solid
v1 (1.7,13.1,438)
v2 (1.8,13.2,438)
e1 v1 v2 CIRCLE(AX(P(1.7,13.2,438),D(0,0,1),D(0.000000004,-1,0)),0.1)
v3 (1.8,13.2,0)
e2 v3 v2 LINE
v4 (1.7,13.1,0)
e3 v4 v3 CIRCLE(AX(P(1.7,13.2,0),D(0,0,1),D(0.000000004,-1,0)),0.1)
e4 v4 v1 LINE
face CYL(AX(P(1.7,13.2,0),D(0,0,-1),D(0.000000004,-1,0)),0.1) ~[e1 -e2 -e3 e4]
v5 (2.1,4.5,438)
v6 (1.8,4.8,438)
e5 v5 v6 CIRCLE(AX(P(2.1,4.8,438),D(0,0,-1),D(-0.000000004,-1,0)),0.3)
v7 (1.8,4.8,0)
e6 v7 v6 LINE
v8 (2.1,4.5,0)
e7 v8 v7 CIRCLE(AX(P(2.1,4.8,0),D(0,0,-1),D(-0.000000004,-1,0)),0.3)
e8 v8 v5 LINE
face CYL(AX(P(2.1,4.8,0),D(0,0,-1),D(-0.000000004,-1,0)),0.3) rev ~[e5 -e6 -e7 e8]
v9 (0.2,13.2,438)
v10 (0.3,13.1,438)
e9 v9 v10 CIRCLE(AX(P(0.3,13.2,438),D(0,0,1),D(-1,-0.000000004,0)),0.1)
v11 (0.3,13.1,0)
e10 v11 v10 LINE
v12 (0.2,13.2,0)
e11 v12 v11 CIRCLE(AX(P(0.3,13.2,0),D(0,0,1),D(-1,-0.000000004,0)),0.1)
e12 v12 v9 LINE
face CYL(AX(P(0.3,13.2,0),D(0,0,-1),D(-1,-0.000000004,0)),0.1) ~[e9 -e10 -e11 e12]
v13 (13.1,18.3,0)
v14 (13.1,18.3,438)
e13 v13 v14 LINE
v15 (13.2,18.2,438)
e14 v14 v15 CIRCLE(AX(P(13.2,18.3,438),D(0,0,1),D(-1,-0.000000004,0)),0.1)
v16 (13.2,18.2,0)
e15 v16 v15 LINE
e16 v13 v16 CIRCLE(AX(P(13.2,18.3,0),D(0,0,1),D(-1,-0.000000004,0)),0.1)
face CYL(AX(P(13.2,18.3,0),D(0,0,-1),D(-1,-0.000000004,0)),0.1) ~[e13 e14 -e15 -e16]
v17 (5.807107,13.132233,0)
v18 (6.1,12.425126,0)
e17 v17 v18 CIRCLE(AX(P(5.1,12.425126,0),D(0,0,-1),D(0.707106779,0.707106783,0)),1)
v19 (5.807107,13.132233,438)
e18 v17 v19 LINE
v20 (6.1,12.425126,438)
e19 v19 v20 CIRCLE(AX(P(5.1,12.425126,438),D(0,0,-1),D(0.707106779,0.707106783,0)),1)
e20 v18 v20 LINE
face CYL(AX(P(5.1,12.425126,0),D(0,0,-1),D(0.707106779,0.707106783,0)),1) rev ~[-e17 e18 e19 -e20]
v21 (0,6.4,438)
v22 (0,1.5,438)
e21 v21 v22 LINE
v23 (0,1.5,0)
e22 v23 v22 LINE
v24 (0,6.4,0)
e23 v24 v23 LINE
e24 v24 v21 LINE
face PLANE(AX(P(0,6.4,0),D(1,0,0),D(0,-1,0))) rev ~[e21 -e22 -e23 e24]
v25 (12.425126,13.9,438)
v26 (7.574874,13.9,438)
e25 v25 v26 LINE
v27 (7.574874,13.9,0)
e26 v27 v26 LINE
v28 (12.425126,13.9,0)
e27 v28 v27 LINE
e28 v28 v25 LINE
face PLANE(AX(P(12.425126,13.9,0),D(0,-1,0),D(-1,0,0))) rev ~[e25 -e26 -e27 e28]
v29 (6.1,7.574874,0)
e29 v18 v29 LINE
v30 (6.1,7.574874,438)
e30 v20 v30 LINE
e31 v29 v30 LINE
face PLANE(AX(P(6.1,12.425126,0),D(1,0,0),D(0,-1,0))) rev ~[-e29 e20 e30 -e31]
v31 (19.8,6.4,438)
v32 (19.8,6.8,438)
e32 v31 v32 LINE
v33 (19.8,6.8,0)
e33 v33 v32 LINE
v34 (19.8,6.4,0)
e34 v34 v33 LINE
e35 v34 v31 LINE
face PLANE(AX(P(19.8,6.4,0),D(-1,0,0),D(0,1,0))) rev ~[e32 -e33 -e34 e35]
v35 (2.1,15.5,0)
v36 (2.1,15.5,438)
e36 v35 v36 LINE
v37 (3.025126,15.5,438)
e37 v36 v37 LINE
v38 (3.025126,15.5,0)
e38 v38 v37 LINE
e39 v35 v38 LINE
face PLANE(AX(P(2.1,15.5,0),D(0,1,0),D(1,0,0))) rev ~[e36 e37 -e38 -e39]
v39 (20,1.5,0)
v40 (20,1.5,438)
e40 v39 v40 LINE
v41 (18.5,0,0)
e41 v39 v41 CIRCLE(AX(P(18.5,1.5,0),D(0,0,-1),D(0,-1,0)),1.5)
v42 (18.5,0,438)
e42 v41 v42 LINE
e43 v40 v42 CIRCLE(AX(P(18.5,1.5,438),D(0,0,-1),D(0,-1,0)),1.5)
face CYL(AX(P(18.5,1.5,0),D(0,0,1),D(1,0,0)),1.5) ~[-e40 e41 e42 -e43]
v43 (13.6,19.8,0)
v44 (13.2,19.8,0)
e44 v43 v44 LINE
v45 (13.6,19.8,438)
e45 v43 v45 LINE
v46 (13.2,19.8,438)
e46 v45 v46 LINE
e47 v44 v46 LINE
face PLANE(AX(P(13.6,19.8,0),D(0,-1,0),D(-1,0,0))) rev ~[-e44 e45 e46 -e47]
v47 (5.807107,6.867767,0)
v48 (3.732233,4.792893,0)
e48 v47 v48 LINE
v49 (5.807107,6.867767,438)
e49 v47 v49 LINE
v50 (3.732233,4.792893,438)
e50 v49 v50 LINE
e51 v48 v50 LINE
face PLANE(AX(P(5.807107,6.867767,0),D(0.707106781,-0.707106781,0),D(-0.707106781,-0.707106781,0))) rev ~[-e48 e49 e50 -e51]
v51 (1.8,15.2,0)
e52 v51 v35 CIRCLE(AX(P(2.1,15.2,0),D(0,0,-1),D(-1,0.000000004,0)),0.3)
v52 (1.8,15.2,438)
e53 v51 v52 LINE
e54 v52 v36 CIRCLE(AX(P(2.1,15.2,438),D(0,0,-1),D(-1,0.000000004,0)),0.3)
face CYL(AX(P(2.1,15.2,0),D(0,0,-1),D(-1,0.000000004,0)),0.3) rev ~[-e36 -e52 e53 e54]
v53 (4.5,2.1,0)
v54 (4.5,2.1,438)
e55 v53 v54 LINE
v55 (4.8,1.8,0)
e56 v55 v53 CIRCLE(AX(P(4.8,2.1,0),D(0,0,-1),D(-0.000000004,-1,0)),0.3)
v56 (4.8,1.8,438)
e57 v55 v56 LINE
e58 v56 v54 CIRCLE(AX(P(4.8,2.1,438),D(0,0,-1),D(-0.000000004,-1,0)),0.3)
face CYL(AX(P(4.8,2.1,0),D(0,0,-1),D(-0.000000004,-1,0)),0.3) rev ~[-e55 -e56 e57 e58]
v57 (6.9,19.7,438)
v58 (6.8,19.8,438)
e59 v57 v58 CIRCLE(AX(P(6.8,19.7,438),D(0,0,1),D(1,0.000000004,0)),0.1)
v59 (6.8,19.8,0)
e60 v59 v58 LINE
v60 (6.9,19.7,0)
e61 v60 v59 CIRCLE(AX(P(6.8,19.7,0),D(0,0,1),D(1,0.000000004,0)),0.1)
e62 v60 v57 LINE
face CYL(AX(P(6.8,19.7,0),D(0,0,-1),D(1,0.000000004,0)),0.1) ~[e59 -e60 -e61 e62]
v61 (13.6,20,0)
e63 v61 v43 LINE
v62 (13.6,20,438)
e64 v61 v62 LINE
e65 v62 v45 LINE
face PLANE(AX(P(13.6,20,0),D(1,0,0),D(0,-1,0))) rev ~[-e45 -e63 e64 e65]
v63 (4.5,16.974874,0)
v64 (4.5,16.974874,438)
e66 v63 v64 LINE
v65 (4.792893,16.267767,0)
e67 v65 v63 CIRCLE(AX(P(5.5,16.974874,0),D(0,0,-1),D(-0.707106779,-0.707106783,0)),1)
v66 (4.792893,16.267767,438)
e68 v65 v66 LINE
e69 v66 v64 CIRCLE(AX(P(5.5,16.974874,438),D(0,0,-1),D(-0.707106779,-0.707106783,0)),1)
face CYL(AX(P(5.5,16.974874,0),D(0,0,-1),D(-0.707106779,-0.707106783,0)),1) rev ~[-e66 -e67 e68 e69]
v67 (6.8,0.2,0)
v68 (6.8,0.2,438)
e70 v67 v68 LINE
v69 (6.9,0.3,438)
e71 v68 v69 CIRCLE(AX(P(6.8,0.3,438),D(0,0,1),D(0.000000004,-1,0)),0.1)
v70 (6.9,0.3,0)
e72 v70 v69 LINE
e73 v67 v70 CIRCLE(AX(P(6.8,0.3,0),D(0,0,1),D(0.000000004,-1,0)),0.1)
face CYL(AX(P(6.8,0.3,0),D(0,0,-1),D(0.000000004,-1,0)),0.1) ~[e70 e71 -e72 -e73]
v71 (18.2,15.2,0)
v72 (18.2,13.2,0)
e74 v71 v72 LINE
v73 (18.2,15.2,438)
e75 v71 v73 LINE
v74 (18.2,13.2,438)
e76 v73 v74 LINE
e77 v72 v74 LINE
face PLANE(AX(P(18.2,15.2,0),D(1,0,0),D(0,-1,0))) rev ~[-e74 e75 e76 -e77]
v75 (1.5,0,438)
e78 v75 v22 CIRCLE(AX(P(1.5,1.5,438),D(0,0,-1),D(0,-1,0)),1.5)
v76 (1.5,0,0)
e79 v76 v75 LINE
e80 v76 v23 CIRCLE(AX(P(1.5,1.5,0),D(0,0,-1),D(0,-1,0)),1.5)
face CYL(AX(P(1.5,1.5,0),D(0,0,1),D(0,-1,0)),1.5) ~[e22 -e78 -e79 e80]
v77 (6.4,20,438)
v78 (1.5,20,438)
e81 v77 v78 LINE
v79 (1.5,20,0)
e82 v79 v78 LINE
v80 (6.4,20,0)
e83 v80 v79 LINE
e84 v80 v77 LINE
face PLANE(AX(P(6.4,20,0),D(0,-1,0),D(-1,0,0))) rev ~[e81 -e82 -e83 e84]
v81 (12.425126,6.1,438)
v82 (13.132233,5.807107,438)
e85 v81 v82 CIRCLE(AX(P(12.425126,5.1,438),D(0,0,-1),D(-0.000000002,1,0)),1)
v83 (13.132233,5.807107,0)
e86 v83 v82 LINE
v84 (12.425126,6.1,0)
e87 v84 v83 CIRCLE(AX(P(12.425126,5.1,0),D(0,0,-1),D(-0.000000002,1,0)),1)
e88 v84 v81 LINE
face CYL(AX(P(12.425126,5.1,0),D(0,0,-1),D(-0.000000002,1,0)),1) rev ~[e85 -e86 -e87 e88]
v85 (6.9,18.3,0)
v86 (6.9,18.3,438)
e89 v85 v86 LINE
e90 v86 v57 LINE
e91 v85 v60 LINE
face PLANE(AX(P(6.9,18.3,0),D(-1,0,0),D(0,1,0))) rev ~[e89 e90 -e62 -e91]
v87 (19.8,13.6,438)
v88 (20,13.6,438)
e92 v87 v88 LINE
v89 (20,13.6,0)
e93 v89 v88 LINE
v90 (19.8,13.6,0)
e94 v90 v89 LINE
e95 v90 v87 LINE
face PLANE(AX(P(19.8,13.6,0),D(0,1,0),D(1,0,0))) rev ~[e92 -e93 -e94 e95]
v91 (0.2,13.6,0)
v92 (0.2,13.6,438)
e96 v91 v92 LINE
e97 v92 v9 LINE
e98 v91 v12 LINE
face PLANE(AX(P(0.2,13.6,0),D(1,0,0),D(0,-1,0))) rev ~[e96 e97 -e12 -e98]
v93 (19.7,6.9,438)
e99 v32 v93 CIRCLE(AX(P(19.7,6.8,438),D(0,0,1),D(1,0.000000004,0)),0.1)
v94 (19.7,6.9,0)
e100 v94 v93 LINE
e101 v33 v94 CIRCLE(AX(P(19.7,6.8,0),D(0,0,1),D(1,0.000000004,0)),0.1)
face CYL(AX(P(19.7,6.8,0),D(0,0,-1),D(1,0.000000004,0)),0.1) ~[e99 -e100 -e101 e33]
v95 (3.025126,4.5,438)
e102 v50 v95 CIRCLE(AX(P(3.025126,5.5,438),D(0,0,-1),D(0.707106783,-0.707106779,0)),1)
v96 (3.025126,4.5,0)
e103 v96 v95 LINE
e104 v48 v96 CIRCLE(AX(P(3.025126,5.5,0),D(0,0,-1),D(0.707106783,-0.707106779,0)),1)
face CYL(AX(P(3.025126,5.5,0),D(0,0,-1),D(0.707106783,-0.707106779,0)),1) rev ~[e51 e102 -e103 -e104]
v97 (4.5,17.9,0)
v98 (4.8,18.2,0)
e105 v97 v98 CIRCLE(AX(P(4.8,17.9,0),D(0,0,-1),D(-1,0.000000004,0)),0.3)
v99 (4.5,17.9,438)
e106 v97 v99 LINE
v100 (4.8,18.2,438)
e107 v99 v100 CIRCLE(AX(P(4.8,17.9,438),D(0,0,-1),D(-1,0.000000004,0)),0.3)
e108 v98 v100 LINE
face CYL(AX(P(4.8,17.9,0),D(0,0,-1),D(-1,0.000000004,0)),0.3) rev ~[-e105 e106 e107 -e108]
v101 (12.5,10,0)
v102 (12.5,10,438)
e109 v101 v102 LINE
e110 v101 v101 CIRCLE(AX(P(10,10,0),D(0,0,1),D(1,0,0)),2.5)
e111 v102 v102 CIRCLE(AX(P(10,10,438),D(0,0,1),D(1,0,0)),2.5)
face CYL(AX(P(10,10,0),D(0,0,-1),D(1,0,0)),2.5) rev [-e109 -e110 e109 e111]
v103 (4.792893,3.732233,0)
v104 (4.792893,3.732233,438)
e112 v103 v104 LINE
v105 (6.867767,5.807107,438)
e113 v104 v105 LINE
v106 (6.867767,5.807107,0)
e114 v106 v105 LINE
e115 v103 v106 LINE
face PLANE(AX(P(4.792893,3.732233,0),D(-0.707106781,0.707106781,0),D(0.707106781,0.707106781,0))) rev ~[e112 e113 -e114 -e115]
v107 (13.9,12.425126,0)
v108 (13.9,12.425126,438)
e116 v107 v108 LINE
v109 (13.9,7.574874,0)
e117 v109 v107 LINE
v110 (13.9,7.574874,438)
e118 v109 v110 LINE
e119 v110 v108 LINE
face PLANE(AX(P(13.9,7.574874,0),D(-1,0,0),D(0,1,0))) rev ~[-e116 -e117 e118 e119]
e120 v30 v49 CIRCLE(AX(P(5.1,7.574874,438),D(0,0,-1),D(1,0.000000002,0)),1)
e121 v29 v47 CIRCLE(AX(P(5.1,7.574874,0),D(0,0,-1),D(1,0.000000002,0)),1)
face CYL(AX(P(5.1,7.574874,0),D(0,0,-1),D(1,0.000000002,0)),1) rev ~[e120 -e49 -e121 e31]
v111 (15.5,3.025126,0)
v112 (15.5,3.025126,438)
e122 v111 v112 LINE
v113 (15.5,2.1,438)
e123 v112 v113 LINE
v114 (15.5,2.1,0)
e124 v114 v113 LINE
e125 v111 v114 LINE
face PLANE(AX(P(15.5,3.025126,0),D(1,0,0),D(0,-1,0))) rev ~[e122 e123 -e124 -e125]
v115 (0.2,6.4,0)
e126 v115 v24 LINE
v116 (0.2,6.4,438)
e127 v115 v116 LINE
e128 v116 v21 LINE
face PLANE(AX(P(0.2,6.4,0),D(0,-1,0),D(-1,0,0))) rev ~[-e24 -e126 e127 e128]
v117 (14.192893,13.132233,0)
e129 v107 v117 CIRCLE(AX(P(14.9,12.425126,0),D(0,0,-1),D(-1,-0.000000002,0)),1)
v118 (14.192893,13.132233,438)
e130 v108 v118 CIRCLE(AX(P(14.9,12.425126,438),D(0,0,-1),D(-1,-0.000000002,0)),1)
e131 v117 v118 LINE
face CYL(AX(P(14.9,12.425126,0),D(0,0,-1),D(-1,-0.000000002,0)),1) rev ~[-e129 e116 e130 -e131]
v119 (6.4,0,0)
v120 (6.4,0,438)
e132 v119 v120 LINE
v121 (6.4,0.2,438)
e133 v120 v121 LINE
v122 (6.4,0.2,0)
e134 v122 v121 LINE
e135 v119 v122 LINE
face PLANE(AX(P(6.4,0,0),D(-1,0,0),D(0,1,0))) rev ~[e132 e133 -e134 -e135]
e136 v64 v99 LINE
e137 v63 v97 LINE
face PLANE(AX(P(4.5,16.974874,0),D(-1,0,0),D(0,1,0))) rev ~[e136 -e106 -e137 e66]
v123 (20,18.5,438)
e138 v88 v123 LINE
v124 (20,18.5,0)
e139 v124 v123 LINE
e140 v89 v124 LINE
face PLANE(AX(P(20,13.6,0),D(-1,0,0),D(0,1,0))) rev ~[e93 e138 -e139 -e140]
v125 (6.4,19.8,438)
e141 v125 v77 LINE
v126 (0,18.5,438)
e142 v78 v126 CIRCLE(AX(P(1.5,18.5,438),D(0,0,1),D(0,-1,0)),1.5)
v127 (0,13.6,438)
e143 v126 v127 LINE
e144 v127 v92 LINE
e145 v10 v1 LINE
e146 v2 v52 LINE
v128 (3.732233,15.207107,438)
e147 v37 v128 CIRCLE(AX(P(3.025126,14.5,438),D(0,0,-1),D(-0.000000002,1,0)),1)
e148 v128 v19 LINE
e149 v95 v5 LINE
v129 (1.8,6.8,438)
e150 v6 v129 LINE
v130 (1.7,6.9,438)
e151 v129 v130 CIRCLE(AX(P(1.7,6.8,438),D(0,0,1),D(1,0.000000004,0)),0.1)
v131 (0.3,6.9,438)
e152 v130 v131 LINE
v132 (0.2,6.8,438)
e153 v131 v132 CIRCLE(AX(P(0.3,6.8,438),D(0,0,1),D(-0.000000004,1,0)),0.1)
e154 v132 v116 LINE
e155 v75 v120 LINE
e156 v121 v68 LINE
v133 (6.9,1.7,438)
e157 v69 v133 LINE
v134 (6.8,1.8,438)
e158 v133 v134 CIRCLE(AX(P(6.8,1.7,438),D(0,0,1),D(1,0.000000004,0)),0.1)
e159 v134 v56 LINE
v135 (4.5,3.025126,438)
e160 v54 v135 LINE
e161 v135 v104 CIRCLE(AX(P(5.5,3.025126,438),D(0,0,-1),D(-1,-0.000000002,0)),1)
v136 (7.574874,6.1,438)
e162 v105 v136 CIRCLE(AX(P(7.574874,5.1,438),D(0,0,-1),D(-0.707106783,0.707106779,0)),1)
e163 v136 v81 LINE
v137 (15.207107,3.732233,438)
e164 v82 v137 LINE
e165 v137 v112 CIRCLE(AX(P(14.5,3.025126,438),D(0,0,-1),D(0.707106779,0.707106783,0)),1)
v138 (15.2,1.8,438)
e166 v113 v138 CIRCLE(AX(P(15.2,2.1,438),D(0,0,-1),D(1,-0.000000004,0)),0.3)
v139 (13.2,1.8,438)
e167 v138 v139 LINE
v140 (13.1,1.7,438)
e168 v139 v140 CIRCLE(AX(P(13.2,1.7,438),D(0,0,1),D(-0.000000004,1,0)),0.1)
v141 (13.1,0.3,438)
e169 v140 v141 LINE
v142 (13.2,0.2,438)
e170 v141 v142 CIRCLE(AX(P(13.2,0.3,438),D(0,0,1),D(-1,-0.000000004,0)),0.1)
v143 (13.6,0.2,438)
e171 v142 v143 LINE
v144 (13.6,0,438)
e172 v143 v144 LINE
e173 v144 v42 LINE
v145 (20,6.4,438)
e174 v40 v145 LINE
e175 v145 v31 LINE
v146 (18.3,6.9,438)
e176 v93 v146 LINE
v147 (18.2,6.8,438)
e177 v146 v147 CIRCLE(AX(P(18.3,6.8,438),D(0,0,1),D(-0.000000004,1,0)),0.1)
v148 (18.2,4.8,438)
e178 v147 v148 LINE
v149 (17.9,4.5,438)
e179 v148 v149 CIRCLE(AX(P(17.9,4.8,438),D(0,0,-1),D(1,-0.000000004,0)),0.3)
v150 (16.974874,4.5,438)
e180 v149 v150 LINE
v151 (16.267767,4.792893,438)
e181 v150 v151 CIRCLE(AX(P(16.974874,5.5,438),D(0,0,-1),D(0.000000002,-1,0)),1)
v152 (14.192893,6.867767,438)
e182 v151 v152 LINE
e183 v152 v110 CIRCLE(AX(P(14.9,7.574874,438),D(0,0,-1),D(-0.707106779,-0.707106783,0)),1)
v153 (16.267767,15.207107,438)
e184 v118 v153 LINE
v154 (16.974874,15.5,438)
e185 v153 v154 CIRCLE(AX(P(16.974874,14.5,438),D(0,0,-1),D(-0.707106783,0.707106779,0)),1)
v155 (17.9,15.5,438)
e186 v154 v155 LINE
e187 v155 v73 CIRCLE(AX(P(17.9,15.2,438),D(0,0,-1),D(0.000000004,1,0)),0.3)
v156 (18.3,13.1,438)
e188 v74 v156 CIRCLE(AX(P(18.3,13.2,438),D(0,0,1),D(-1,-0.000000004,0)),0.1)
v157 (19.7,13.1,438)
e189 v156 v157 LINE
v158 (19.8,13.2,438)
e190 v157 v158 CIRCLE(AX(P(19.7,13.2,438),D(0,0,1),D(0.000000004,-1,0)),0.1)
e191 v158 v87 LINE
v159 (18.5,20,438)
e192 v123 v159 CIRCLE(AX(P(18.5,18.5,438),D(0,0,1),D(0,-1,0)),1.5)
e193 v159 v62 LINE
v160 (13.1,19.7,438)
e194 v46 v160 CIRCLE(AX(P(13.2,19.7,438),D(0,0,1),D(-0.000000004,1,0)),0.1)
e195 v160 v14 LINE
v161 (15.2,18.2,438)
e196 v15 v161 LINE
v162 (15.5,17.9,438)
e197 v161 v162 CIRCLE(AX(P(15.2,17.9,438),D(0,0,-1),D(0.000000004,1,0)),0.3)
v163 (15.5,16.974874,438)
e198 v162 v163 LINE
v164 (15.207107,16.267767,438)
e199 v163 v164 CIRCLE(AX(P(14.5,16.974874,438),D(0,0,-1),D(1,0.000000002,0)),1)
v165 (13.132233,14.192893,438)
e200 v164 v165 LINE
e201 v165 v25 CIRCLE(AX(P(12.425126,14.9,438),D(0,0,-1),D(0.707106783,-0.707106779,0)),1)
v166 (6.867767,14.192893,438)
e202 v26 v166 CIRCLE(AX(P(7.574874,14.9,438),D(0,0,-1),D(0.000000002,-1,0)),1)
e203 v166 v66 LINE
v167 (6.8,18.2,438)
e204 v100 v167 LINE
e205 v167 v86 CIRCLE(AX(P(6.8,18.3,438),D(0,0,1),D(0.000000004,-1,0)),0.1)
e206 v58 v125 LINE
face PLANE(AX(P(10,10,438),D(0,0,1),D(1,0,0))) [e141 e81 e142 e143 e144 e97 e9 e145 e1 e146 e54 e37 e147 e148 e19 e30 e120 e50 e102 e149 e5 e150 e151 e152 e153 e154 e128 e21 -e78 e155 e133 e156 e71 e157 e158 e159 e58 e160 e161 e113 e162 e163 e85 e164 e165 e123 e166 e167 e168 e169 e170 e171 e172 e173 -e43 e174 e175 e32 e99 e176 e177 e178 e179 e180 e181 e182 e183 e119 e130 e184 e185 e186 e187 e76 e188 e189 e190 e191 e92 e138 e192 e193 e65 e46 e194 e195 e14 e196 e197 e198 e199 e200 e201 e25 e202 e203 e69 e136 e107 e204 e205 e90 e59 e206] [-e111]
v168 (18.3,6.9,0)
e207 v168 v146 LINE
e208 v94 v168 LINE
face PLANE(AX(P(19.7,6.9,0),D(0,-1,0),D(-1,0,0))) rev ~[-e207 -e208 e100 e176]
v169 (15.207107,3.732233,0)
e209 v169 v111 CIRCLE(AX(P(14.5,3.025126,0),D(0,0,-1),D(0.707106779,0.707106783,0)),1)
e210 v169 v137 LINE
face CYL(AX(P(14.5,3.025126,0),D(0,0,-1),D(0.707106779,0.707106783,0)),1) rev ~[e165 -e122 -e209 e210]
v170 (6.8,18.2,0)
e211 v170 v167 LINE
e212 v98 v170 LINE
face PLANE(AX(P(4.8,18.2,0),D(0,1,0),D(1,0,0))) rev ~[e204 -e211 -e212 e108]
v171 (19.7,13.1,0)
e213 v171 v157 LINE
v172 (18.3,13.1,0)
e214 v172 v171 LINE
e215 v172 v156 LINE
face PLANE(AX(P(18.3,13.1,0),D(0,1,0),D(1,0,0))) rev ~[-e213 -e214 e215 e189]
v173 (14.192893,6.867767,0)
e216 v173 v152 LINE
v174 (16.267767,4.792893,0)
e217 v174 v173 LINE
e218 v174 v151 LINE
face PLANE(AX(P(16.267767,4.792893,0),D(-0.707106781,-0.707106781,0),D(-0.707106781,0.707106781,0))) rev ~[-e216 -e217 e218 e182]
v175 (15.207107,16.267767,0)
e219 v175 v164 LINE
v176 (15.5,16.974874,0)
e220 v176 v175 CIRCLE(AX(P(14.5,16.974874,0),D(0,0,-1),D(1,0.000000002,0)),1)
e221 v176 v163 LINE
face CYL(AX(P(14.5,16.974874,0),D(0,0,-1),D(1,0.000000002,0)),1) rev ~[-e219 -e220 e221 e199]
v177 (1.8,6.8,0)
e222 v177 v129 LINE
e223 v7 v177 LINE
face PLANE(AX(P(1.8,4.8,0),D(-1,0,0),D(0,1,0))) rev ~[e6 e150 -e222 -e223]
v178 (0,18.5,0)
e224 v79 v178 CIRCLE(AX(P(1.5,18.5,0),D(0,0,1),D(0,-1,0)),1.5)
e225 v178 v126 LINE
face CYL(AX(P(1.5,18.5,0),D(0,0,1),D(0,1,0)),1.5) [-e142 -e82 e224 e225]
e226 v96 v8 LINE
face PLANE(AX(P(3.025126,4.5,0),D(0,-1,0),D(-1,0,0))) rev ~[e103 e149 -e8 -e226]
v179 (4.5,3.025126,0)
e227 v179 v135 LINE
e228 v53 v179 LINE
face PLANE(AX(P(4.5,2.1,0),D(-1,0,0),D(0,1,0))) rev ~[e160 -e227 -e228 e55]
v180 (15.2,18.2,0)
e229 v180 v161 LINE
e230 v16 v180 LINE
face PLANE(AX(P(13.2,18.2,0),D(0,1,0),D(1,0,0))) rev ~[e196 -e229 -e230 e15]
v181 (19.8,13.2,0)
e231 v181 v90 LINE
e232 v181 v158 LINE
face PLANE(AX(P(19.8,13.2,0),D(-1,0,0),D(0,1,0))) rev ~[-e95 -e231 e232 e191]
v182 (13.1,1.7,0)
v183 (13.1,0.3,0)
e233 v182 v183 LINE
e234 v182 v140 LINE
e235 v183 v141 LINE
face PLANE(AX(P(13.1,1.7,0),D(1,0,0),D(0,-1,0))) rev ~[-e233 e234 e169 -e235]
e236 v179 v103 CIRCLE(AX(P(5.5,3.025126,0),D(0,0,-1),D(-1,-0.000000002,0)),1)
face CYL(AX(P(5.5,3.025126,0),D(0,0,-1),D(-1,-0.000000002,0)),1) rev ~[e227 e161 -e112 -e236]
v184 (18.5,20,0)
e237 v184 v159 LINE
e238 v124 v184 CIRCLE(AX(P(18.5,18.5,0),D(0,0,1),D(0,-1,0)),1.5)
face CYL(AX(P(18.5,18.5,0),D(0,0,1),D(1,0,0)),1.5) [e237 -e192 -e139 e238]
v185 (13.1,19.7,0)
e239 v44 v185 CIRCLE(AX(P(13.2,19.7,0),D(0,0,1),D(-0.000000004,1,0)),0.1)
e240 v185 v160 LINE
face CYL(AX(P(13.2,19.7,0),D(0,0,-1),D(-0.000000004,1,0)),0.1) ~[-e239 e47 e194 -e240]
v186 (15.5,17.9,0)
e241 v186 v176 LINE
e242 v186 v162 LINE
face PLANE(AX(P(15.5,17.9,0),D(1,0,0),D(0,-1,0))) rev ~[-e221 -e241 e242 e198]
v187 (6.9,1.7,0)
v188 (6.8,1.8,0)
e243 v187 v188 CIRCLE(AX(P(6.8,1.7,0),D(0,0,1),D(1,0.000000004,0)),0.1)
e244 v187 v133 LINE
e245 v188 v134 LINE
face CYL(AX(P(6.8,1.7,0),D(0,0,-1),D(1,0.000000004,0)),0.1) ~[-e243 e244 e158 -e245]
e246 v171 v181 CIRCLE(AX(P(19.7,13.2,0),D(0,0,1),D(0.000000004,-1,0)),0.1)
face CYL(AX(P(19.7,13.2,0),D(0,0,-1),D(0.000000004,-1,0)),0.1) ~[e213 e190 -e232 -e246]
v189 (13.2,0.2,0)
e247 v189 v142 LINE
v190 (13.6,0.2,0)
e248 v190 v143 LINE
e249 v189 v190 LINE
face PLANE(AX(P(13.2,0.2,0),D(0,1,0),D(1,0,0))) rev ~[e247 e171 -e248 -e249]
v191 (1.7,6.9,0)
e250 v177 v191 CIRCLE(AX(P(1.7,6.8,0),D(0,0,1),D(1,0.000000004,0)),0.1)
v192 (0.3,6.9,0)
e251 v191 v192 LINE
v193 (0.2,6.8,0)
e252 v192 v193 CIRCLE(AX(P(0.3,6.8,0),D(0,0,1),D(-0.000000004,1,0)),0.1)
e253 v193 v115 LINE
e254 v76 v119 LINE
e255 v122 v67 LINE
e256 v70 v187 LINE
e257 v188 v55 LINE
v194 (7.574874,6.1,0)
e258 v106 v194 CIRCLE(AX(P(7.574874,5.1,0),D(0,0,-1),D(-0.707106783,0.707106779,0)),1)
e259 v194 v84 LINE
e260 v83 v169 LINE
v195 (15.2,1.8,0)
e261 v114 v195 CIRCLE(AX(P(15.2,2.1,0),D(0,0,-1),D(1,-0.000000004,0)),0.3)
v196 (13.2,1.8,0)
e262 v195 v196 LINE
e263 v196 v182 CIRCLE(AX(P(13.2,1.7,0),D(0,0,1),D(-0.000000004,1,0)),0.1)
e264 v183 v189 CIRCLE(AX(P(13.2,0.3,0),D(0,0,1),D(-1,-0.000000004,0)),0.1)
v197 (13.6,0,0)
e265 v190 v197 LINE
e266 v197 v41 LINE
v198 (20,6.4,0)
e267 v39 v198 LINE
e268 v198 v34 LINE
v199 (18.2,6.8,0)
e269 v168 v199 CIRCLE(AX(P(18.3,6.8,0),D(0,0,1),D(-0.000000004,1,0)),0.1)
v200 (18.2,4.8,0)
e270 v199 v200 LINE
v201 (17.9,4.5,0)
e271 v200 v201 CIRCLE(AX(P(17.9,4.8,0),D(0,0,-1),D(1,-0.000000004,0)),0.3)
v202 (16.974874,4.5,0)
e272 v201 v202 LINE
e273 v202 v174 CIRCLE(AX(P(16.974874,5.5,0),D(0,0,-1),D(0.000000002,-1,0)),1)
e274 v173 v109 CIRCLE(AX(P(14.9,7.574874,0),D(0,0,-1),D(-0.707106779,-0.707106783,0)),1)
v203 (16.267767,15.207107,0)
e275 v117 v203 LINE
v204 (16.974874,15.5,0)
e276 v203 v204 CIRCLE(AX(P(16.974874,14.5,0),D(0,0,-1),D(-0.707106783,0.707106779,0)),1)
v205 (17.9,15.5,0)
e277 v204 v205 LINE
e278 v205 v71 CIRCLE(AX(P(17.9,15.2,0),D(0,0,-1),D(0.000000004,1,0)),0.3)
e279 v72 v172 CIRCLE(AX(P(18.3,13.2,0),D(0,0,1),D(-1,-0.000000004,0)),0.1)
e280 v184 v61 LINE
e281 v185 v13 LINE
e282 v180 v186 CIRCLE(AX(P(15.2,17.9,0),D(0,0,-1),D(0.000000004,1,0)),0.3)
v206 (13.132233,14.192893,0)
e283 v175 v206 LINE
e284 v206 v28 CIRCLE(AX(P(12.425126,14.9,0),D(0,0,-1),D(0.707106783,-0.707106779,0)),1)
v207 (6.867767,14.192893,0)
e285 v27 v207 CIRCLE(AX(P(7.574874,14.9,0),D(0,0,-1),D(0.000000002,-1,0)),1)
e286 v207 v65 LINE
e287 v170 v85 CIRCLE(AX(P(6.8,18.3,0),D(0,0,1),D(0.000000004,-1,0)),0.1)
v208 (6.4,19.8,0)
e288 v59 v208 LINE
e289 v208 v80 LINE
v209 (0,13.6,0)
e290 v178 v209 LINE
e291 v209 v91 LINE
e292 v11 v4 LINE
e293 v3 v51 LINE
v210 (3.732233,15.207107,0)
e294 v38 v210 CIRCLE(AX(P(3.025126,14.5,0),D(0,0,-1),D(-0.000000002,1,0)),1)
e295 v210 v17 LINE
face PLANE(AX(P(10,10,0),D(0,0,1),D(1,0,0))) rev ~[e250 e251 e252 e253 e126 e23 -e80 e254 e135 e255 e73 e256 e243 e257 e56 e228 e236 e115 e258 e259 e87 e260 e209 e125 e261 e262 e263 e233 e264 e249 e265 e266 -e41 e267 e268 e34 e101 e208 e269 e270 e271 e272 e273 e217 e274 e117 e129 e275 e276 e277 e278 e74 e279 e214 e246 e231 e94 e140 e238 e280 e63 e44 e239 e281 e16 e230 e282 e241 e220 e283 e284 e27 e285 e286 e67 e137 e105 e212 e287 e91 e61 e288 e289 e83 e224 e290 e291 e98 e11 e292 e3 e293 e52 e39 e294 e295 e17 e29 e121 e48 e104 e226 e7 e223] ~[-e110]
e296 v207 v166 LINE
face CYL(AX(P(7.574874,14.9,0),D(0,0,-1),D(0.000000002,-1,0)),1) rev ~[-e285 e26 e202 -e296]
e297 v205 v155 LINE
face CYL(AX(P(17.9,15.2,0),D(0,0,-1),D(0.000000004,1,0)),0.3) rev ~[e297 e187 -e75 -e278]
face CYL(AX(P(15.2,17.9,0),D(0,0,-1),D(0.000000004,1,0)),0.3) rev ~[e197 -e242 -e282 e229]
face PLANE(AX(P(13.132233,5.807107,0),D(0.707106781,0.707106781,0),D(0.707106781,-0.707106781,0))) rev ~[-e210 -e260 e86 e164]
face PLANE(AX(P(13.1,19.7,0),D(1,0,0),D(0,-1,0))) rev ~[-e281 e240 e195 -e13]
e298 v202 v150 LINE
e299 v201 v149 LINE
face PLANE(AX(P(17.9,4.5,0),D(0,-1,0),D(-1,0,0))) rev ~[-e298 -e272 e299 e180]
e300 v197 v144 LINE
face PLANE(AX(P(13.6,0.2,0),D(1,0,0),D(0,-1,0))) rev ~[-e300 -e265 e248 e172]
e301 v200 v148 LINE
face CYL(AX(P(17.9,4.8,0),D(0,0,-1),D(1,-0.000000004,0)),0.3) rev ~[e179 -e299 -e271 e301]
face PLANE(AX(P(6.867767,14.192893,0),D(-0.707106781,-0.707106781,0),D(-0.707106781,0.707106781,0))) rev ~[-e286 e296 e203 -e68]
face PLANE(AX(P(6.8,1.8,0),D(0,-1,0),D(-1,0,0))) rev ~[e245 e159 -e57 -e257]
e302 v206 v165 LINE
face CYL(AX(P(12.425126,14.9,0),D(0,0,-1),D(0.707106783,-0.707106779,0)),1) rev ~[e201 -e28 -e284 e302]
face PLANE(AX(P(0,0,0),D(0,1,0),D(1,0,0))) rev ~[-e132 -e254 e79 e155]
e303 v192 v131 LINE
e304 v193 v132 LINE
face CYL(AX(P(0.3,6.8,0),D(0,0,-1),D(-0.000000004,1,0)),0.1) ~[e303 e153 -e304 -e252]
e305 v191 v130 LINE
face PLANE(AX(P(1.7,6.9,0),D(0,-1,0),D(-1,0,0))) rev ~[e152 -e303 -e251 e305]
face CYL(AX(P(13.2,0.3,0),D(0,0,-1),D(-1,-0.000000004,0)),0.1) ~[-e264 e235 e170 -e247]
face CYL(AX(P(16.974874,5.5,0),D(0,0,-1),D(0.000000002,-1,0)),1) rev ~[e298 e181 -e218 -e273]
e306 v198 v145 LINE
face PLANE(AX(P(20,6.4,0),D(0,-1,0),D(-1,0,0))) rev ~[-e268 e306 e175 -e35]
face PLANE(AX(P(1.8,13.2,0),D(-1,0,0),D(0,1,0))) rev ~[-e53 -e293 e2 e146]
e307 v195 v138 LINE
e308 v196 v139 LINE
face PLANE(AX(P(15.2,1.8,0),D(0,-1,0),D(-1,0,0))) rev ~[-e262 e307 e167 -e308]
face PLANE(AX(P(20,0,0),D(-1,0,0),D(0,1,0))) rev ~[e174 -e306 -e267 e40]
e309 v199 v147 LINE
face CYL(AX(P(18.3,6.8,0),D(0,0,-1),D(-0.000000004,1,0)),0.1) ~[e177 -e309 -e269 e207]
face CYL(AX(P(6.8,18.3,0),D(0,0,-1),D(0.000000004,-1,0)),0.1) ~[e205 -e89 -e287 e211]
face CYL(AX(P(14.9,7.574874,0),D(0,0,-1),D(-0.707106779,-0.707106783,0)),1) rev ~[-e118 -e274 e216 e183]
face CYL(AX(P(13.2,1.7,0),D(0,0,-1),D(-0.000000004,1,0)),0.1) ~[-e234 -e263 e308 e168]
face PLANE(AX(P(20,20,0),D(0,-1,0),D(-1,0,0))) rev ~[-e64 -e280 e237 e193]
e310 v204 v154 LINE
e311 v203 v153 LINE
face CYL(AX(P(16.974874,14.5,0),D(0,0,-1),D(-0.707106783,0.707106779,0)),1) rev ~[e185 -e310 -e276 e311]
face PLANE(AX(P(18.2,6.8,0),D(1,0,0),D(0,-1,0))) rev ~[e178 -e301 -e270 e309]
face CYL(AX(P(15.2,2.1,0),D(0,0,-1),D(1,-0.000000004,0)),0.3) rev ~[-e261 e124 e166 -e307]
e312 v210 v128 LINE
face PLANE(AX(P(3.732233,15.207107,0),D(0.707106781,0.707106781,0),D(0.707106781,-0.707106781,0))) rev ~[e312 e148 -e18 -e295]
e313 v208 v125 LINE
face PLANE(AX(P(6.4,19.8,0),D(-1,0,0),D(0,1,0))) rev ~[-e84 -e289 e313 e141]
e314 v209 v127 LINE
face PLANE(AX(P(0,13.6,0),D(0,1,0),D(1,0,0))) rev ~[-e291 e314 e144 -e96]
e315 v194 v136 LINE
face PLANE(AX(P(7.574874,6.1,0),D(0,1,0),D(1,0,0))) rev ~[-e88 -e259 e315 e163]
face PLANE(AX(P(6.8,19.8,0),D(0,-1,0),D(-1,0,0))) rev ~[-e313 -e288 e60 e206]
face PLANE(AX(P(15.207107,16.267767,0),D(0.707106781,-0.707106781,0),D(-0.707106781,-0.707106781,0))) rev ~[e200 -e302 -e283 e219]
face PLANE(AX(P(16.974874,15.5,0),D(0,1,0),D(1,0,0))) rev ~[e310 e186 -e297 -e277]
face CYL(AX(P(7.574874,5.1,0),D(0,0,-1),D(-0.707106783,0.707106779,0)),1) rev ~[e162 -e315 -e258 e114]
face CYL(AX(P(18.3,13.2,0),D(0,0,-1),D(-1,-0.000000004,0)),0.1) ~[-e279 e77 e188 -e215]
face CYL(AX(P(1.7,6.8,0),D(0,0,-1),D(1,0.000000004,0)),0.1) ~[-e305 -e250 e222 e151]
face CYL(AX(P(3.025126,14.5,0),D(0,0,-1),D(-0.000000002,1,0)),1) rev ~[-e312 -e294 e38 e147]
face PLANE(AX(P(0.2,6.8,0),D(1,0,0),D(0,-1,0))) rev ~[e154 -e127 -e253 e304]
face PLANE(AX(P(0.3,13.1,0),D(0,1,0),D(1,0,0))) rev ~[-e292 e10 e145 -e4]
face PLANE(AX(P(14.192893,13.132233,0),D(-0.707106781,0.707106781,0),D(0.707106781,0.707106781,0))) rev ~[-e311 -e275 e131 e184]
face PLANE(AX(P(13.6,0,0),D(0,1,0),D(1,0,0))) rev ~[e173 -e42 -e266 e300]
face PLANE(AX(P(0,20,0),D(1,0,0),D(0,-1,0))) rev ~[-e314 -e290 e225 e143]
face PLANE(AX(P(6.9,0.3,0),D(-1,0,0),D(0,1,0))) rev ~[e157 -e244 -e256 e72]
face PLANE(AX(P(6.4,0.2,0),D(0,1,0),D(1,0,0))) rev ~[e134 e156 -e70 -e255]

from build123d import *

# Parameters (mm, degrees)
SKETCH_1_R      = 2.5
EXTRUDE_1_DEPTH = 438
FILLET_1_R      = 1.5


with BuildPart() as part:
    # 草图1 → 凸台-拉伸1 (new body)
    with BuildSketch(Plane.XY):
        with BuildLine():
            Line((20, 13.6), (20, 20))
            Line((20, 20), (13.6, 20))
            Line((13.6, 20), (13.6, 19.8))
            Line((13.6, 19.8), (13.2, 19.8))
            ThreePointArc((13.2, 19.8), (13.129289322, 19.770710678), (13.1, 19.7))
            Line((13.1, 19.7), (13.1, 18.3))
            ThreePointArc((13.1, 18.3), (13.129289322, 18.229289322), (13.2, 18.2))
            Line((13.2, 18.2), (15.2, 18.2))
            ThreePointArc((15.2, 18.2), (15.412132034, 18.112132034), (15.5, 17.9))
            Line((15.5, 17.9), (15.5, 16.974873734))
            ThreePointArc((15.5, 16.974873734), (15.423879533, 16.592190302), (15.207106781, 16.267766953))
            Line((15.207106781, 16.267766953), (13.132233047, 14.192893219))
            ThreePointArc((13.132233047, 14.192893219), (12.807809698, 13.976120467), (12.425126266, 13.9))
            Line((12.425126266, 13.9), (7.574873734, 13.9))
            ThreePointArc((7.574873734, 13.9), (7.192190302, 13.976120467), (6.867766953, 14.192893219))
            Line((6.867766953, 14.192893219), (4.792893219, 16.267766953))
            ThreePointArc((4.792893219, 16.267766953), (4.576120467, 16.592190302), (4.5, 16.974873734))
            Line((4.5, 16.974873734), (4.5, 17.9))
            ThreePointArc((4.5, 17.9), (4.587867966, 18.112132034), (4.8, 18.2))
            Line((4.8, 18.2), (6.8, 18.2))
            ThreePointArc((6.8, 18.2), (6.870710678, 18.229289322), (6.9, 18.3))
            Line((6.9, 18.3), (6.9, 19.7))
            ThreePointArc((6.9, 19.7), (6.870710678, 19.770710678), (6.8, 19.8))
            Line((6.8, 19.8), (6.4, 19.8))
            Line((6.4, 19.8), (6.4, 20))
            Line((6.4, 20), (0, 20))
            Line((0, 20), (0, 13.6))
            Line((0, 13.6), (0.2, 13.6))
            Line((0.2, 13.6), (0.2, 13.2))
            ThreePointArc((0.2, 13.2), (0.229289322, 13.129289322), (0.3, 13.1))
            Line((0.3, 13.1), (1.7, 13.1))
            ThreePointArc((1.7, 13.1), (1.770710678, 13.129289322), (1.8, 13.2))
            Line((1.8, 13.2), (1.8, 15.2))
            ThreePointArc((1.8, 15.2), (1.887867966, 15.412132034), (2.1, 15.5))
            Line((2.1, 15.5), (3.025126266, 15.5))
            ThreePointArc((3.025126266, 15.5), (3.407809698, 15.423879533), (3.732233047, 15.207106781))
            Line((3.732233047, 15.207106781), (5.807106781, 13.132233047))
            ThreePointArc((5.807106781, 13.132233047), (6.023879533, 12.807809698), (6.1, 12.425126266))
            Line((6.1, 12.425126266), (6.1, 7.574873734))
            ThreePointArc((6.1, 7.574873734), (6.023879533, 7.192190302), (5.807106781, 6.867766953))
            Line((5.807106781, 6.867766953), (3.732233047, 4.792893219))
            ThreePointArc((3.732233047, 4.792893219), (3.407809698, 4.576120467), (3.025126266, 4.5))
            Line((3.025126266, 4.5), (2.1, 4.5))
            ThreePointArc((2.1, 4.5), (1.887867966, 4.587867966), (1.8, 4.8))
            Line((1.8, 4.8), (1.8, 6.8))
            ThreePointArc((1.8, 6.8), (1.770710678, 6.870710678), (1.7, 6.9))
            Line((1.7, 6.9), (0.3, 6.9))
            ThreePointArc((0.3, 6.9), (0.229289322, 6.870710678), (0.2, 6.8))
            Line((0.2, 6.8), (0.2, 6.4))
            Line((0.2, 6.4), (0, 6.4))
            Line((0, 6.4), (0, 0))
            Line((0, 0), (6.4, 0))
            Line((6.4, 0), (6.4, 0.2))
            Line((6.4, 0.2), (6.8, 0.2))
            ThreePointArc((6.8, 0.2), (6.870710678, 0.229289322), (6.9, 0.3))
            Line((6.9, 0.3), (6.9, 1.7))
            ThreePointArc((6.9, 1.7), (6.870710678, 1.770710678), (6.8, 1.8))
            Line((6.8, 1.8), (4.8, 1.8))
            ThreePointArc((4.8, 1.8), (4.587867966, 1.887867966), (4.5, 2.1))
            Line((4.5, 2.1), (4.5, 3.025126266))
            ThreePointArc((4.5, 3.025126266), (4.576120467, 3.407809698), (4.792893219, 3.732233047))
            Line((4.792893219, 3.732233047), (6.867766953, 5.807106781))
            ThreePointArc((6.867766953, 5.807106781), (7.192190302, 6.023879533), (7.574873734, 6.1))
            Line((7.574873734, 6.1), (12.425126266, 6.1))
            ThreePointArc((12.425126266, 6.1), (12.807809698, 6.023879533), (13.132233047, 5.807106781))
            Line((13.132233047, 5.807106781), (15.207106781, 3.732233047))
            ThreePointArc((15.207106781, 3.732233047), (15.423879533, 3.407809698), (15.5, 3.025126266))
            Line((15.5, 3.025126266), (15.5, 2.1))
            ThreePointArc((15.5, 2.1), (15.412132034, 1.887867966), (15.2, 1.8))
            Line((15.2, 1.8), (13.2, 1.8))
            ThreePointArc((13.2, 1.8), (13.129289322, 1.770710678), (13.1, 1.7))
            Line((13.1, 1.7), (13.1, 0.3))
            ThreePointArc((13.1, 0.3), (13.129289322, 0.229289322), (13.2, 0.2))
            Line((13.2, 0.2), (13.6, 0.2))
            Line((13.6, 0.2), (13.6, 0))
            Line((13.6, 0), (20, 0))
            Line((20, 0), (20, 6.4))
            Line((20, 6.4), (19.8, 6.4))
            Line((19.8, 6.4), (19.8, 6.8))
            ThreePointArc((19.8, 6.8), (19.770710678, 6.870710678), (19.7, 6.9))
            Line((19.7, 6.9), (18.3, 6.9))
            ThreePointArc((18.3, 6.9), (18.229289322, 6.870710678), (18.2, 6.8))
            Line((18.2, 6.8), (18.2, 4.8))
            ThreePointArc((18.2, 4.8), (18.112132034, 4.587867966), (17.9, 4.5))
            Line((17.9, 4.5), (16.974873734, 4.5))
            ThreePointArc((16.974873734, 4.5), (16.592190302, 4.576120467), (16.267766953, 4.792893219))
            Line((16.267766953, 4.792893219), (14.192893219, 6.867766953))
            ThreePointArc((14.192893219, 6.867766953), (13.976120467, 7.192190302), (13.9, 7.574873734))
            Line((13.9, 7.574873734), (13.9, 12.425126266))
            ThreePointArc((13.9, 12.425126266), (13.976120467, 12.807809698), (14.192893219, 13.132233047))
            Line((14.192893219, 13.132233047), (16.267766953, 15.207106781))
            ThreePointArc((16.267766953, 15.207106781), (16.592190302, 15.423879533), (16.974873734, 15.5))
            Line((16.974873734, 15.5), (17.9, 15.5))
            ThreePointArc((17.9, 15.5), (18.112132034, 15.412132034), (18.2, 15.2))
            Line((18.2, 15.2), (18.2, 13.2))
            ThreePointArc((18.2, 13.2), (18.229289322, 13.129289322), (18.3, 13.1))
            Line((18.3, 13.1), (19.7, 13.1))
            ThreePointArc((19.7, 13.1), (19.770710678, 13.129289322), (19.8, 13.2))
            Line((19.8, 13.2), (19.8, 13.6))
            Line((19.8, 13.6), (20, 13.6))
        make_face()
        with Locations((10, 10)):
            Circle(SKETCH_1_R, mode=Mode.SUBTRACT)
    extrude(amount=EXTRUDE_1_DEPTH)

    # 圆角1
    fillet_1_edges = [part.edges().sort_by_distance(p)[0] for p in [
        (0, 0, 219),
        (0, 20, 219),
        (20, 20, 219),
        (20, 0, 219),
    ]]
    fillet(fillet_1_edges, radius=FILLET_1_R)


solid = part.part
